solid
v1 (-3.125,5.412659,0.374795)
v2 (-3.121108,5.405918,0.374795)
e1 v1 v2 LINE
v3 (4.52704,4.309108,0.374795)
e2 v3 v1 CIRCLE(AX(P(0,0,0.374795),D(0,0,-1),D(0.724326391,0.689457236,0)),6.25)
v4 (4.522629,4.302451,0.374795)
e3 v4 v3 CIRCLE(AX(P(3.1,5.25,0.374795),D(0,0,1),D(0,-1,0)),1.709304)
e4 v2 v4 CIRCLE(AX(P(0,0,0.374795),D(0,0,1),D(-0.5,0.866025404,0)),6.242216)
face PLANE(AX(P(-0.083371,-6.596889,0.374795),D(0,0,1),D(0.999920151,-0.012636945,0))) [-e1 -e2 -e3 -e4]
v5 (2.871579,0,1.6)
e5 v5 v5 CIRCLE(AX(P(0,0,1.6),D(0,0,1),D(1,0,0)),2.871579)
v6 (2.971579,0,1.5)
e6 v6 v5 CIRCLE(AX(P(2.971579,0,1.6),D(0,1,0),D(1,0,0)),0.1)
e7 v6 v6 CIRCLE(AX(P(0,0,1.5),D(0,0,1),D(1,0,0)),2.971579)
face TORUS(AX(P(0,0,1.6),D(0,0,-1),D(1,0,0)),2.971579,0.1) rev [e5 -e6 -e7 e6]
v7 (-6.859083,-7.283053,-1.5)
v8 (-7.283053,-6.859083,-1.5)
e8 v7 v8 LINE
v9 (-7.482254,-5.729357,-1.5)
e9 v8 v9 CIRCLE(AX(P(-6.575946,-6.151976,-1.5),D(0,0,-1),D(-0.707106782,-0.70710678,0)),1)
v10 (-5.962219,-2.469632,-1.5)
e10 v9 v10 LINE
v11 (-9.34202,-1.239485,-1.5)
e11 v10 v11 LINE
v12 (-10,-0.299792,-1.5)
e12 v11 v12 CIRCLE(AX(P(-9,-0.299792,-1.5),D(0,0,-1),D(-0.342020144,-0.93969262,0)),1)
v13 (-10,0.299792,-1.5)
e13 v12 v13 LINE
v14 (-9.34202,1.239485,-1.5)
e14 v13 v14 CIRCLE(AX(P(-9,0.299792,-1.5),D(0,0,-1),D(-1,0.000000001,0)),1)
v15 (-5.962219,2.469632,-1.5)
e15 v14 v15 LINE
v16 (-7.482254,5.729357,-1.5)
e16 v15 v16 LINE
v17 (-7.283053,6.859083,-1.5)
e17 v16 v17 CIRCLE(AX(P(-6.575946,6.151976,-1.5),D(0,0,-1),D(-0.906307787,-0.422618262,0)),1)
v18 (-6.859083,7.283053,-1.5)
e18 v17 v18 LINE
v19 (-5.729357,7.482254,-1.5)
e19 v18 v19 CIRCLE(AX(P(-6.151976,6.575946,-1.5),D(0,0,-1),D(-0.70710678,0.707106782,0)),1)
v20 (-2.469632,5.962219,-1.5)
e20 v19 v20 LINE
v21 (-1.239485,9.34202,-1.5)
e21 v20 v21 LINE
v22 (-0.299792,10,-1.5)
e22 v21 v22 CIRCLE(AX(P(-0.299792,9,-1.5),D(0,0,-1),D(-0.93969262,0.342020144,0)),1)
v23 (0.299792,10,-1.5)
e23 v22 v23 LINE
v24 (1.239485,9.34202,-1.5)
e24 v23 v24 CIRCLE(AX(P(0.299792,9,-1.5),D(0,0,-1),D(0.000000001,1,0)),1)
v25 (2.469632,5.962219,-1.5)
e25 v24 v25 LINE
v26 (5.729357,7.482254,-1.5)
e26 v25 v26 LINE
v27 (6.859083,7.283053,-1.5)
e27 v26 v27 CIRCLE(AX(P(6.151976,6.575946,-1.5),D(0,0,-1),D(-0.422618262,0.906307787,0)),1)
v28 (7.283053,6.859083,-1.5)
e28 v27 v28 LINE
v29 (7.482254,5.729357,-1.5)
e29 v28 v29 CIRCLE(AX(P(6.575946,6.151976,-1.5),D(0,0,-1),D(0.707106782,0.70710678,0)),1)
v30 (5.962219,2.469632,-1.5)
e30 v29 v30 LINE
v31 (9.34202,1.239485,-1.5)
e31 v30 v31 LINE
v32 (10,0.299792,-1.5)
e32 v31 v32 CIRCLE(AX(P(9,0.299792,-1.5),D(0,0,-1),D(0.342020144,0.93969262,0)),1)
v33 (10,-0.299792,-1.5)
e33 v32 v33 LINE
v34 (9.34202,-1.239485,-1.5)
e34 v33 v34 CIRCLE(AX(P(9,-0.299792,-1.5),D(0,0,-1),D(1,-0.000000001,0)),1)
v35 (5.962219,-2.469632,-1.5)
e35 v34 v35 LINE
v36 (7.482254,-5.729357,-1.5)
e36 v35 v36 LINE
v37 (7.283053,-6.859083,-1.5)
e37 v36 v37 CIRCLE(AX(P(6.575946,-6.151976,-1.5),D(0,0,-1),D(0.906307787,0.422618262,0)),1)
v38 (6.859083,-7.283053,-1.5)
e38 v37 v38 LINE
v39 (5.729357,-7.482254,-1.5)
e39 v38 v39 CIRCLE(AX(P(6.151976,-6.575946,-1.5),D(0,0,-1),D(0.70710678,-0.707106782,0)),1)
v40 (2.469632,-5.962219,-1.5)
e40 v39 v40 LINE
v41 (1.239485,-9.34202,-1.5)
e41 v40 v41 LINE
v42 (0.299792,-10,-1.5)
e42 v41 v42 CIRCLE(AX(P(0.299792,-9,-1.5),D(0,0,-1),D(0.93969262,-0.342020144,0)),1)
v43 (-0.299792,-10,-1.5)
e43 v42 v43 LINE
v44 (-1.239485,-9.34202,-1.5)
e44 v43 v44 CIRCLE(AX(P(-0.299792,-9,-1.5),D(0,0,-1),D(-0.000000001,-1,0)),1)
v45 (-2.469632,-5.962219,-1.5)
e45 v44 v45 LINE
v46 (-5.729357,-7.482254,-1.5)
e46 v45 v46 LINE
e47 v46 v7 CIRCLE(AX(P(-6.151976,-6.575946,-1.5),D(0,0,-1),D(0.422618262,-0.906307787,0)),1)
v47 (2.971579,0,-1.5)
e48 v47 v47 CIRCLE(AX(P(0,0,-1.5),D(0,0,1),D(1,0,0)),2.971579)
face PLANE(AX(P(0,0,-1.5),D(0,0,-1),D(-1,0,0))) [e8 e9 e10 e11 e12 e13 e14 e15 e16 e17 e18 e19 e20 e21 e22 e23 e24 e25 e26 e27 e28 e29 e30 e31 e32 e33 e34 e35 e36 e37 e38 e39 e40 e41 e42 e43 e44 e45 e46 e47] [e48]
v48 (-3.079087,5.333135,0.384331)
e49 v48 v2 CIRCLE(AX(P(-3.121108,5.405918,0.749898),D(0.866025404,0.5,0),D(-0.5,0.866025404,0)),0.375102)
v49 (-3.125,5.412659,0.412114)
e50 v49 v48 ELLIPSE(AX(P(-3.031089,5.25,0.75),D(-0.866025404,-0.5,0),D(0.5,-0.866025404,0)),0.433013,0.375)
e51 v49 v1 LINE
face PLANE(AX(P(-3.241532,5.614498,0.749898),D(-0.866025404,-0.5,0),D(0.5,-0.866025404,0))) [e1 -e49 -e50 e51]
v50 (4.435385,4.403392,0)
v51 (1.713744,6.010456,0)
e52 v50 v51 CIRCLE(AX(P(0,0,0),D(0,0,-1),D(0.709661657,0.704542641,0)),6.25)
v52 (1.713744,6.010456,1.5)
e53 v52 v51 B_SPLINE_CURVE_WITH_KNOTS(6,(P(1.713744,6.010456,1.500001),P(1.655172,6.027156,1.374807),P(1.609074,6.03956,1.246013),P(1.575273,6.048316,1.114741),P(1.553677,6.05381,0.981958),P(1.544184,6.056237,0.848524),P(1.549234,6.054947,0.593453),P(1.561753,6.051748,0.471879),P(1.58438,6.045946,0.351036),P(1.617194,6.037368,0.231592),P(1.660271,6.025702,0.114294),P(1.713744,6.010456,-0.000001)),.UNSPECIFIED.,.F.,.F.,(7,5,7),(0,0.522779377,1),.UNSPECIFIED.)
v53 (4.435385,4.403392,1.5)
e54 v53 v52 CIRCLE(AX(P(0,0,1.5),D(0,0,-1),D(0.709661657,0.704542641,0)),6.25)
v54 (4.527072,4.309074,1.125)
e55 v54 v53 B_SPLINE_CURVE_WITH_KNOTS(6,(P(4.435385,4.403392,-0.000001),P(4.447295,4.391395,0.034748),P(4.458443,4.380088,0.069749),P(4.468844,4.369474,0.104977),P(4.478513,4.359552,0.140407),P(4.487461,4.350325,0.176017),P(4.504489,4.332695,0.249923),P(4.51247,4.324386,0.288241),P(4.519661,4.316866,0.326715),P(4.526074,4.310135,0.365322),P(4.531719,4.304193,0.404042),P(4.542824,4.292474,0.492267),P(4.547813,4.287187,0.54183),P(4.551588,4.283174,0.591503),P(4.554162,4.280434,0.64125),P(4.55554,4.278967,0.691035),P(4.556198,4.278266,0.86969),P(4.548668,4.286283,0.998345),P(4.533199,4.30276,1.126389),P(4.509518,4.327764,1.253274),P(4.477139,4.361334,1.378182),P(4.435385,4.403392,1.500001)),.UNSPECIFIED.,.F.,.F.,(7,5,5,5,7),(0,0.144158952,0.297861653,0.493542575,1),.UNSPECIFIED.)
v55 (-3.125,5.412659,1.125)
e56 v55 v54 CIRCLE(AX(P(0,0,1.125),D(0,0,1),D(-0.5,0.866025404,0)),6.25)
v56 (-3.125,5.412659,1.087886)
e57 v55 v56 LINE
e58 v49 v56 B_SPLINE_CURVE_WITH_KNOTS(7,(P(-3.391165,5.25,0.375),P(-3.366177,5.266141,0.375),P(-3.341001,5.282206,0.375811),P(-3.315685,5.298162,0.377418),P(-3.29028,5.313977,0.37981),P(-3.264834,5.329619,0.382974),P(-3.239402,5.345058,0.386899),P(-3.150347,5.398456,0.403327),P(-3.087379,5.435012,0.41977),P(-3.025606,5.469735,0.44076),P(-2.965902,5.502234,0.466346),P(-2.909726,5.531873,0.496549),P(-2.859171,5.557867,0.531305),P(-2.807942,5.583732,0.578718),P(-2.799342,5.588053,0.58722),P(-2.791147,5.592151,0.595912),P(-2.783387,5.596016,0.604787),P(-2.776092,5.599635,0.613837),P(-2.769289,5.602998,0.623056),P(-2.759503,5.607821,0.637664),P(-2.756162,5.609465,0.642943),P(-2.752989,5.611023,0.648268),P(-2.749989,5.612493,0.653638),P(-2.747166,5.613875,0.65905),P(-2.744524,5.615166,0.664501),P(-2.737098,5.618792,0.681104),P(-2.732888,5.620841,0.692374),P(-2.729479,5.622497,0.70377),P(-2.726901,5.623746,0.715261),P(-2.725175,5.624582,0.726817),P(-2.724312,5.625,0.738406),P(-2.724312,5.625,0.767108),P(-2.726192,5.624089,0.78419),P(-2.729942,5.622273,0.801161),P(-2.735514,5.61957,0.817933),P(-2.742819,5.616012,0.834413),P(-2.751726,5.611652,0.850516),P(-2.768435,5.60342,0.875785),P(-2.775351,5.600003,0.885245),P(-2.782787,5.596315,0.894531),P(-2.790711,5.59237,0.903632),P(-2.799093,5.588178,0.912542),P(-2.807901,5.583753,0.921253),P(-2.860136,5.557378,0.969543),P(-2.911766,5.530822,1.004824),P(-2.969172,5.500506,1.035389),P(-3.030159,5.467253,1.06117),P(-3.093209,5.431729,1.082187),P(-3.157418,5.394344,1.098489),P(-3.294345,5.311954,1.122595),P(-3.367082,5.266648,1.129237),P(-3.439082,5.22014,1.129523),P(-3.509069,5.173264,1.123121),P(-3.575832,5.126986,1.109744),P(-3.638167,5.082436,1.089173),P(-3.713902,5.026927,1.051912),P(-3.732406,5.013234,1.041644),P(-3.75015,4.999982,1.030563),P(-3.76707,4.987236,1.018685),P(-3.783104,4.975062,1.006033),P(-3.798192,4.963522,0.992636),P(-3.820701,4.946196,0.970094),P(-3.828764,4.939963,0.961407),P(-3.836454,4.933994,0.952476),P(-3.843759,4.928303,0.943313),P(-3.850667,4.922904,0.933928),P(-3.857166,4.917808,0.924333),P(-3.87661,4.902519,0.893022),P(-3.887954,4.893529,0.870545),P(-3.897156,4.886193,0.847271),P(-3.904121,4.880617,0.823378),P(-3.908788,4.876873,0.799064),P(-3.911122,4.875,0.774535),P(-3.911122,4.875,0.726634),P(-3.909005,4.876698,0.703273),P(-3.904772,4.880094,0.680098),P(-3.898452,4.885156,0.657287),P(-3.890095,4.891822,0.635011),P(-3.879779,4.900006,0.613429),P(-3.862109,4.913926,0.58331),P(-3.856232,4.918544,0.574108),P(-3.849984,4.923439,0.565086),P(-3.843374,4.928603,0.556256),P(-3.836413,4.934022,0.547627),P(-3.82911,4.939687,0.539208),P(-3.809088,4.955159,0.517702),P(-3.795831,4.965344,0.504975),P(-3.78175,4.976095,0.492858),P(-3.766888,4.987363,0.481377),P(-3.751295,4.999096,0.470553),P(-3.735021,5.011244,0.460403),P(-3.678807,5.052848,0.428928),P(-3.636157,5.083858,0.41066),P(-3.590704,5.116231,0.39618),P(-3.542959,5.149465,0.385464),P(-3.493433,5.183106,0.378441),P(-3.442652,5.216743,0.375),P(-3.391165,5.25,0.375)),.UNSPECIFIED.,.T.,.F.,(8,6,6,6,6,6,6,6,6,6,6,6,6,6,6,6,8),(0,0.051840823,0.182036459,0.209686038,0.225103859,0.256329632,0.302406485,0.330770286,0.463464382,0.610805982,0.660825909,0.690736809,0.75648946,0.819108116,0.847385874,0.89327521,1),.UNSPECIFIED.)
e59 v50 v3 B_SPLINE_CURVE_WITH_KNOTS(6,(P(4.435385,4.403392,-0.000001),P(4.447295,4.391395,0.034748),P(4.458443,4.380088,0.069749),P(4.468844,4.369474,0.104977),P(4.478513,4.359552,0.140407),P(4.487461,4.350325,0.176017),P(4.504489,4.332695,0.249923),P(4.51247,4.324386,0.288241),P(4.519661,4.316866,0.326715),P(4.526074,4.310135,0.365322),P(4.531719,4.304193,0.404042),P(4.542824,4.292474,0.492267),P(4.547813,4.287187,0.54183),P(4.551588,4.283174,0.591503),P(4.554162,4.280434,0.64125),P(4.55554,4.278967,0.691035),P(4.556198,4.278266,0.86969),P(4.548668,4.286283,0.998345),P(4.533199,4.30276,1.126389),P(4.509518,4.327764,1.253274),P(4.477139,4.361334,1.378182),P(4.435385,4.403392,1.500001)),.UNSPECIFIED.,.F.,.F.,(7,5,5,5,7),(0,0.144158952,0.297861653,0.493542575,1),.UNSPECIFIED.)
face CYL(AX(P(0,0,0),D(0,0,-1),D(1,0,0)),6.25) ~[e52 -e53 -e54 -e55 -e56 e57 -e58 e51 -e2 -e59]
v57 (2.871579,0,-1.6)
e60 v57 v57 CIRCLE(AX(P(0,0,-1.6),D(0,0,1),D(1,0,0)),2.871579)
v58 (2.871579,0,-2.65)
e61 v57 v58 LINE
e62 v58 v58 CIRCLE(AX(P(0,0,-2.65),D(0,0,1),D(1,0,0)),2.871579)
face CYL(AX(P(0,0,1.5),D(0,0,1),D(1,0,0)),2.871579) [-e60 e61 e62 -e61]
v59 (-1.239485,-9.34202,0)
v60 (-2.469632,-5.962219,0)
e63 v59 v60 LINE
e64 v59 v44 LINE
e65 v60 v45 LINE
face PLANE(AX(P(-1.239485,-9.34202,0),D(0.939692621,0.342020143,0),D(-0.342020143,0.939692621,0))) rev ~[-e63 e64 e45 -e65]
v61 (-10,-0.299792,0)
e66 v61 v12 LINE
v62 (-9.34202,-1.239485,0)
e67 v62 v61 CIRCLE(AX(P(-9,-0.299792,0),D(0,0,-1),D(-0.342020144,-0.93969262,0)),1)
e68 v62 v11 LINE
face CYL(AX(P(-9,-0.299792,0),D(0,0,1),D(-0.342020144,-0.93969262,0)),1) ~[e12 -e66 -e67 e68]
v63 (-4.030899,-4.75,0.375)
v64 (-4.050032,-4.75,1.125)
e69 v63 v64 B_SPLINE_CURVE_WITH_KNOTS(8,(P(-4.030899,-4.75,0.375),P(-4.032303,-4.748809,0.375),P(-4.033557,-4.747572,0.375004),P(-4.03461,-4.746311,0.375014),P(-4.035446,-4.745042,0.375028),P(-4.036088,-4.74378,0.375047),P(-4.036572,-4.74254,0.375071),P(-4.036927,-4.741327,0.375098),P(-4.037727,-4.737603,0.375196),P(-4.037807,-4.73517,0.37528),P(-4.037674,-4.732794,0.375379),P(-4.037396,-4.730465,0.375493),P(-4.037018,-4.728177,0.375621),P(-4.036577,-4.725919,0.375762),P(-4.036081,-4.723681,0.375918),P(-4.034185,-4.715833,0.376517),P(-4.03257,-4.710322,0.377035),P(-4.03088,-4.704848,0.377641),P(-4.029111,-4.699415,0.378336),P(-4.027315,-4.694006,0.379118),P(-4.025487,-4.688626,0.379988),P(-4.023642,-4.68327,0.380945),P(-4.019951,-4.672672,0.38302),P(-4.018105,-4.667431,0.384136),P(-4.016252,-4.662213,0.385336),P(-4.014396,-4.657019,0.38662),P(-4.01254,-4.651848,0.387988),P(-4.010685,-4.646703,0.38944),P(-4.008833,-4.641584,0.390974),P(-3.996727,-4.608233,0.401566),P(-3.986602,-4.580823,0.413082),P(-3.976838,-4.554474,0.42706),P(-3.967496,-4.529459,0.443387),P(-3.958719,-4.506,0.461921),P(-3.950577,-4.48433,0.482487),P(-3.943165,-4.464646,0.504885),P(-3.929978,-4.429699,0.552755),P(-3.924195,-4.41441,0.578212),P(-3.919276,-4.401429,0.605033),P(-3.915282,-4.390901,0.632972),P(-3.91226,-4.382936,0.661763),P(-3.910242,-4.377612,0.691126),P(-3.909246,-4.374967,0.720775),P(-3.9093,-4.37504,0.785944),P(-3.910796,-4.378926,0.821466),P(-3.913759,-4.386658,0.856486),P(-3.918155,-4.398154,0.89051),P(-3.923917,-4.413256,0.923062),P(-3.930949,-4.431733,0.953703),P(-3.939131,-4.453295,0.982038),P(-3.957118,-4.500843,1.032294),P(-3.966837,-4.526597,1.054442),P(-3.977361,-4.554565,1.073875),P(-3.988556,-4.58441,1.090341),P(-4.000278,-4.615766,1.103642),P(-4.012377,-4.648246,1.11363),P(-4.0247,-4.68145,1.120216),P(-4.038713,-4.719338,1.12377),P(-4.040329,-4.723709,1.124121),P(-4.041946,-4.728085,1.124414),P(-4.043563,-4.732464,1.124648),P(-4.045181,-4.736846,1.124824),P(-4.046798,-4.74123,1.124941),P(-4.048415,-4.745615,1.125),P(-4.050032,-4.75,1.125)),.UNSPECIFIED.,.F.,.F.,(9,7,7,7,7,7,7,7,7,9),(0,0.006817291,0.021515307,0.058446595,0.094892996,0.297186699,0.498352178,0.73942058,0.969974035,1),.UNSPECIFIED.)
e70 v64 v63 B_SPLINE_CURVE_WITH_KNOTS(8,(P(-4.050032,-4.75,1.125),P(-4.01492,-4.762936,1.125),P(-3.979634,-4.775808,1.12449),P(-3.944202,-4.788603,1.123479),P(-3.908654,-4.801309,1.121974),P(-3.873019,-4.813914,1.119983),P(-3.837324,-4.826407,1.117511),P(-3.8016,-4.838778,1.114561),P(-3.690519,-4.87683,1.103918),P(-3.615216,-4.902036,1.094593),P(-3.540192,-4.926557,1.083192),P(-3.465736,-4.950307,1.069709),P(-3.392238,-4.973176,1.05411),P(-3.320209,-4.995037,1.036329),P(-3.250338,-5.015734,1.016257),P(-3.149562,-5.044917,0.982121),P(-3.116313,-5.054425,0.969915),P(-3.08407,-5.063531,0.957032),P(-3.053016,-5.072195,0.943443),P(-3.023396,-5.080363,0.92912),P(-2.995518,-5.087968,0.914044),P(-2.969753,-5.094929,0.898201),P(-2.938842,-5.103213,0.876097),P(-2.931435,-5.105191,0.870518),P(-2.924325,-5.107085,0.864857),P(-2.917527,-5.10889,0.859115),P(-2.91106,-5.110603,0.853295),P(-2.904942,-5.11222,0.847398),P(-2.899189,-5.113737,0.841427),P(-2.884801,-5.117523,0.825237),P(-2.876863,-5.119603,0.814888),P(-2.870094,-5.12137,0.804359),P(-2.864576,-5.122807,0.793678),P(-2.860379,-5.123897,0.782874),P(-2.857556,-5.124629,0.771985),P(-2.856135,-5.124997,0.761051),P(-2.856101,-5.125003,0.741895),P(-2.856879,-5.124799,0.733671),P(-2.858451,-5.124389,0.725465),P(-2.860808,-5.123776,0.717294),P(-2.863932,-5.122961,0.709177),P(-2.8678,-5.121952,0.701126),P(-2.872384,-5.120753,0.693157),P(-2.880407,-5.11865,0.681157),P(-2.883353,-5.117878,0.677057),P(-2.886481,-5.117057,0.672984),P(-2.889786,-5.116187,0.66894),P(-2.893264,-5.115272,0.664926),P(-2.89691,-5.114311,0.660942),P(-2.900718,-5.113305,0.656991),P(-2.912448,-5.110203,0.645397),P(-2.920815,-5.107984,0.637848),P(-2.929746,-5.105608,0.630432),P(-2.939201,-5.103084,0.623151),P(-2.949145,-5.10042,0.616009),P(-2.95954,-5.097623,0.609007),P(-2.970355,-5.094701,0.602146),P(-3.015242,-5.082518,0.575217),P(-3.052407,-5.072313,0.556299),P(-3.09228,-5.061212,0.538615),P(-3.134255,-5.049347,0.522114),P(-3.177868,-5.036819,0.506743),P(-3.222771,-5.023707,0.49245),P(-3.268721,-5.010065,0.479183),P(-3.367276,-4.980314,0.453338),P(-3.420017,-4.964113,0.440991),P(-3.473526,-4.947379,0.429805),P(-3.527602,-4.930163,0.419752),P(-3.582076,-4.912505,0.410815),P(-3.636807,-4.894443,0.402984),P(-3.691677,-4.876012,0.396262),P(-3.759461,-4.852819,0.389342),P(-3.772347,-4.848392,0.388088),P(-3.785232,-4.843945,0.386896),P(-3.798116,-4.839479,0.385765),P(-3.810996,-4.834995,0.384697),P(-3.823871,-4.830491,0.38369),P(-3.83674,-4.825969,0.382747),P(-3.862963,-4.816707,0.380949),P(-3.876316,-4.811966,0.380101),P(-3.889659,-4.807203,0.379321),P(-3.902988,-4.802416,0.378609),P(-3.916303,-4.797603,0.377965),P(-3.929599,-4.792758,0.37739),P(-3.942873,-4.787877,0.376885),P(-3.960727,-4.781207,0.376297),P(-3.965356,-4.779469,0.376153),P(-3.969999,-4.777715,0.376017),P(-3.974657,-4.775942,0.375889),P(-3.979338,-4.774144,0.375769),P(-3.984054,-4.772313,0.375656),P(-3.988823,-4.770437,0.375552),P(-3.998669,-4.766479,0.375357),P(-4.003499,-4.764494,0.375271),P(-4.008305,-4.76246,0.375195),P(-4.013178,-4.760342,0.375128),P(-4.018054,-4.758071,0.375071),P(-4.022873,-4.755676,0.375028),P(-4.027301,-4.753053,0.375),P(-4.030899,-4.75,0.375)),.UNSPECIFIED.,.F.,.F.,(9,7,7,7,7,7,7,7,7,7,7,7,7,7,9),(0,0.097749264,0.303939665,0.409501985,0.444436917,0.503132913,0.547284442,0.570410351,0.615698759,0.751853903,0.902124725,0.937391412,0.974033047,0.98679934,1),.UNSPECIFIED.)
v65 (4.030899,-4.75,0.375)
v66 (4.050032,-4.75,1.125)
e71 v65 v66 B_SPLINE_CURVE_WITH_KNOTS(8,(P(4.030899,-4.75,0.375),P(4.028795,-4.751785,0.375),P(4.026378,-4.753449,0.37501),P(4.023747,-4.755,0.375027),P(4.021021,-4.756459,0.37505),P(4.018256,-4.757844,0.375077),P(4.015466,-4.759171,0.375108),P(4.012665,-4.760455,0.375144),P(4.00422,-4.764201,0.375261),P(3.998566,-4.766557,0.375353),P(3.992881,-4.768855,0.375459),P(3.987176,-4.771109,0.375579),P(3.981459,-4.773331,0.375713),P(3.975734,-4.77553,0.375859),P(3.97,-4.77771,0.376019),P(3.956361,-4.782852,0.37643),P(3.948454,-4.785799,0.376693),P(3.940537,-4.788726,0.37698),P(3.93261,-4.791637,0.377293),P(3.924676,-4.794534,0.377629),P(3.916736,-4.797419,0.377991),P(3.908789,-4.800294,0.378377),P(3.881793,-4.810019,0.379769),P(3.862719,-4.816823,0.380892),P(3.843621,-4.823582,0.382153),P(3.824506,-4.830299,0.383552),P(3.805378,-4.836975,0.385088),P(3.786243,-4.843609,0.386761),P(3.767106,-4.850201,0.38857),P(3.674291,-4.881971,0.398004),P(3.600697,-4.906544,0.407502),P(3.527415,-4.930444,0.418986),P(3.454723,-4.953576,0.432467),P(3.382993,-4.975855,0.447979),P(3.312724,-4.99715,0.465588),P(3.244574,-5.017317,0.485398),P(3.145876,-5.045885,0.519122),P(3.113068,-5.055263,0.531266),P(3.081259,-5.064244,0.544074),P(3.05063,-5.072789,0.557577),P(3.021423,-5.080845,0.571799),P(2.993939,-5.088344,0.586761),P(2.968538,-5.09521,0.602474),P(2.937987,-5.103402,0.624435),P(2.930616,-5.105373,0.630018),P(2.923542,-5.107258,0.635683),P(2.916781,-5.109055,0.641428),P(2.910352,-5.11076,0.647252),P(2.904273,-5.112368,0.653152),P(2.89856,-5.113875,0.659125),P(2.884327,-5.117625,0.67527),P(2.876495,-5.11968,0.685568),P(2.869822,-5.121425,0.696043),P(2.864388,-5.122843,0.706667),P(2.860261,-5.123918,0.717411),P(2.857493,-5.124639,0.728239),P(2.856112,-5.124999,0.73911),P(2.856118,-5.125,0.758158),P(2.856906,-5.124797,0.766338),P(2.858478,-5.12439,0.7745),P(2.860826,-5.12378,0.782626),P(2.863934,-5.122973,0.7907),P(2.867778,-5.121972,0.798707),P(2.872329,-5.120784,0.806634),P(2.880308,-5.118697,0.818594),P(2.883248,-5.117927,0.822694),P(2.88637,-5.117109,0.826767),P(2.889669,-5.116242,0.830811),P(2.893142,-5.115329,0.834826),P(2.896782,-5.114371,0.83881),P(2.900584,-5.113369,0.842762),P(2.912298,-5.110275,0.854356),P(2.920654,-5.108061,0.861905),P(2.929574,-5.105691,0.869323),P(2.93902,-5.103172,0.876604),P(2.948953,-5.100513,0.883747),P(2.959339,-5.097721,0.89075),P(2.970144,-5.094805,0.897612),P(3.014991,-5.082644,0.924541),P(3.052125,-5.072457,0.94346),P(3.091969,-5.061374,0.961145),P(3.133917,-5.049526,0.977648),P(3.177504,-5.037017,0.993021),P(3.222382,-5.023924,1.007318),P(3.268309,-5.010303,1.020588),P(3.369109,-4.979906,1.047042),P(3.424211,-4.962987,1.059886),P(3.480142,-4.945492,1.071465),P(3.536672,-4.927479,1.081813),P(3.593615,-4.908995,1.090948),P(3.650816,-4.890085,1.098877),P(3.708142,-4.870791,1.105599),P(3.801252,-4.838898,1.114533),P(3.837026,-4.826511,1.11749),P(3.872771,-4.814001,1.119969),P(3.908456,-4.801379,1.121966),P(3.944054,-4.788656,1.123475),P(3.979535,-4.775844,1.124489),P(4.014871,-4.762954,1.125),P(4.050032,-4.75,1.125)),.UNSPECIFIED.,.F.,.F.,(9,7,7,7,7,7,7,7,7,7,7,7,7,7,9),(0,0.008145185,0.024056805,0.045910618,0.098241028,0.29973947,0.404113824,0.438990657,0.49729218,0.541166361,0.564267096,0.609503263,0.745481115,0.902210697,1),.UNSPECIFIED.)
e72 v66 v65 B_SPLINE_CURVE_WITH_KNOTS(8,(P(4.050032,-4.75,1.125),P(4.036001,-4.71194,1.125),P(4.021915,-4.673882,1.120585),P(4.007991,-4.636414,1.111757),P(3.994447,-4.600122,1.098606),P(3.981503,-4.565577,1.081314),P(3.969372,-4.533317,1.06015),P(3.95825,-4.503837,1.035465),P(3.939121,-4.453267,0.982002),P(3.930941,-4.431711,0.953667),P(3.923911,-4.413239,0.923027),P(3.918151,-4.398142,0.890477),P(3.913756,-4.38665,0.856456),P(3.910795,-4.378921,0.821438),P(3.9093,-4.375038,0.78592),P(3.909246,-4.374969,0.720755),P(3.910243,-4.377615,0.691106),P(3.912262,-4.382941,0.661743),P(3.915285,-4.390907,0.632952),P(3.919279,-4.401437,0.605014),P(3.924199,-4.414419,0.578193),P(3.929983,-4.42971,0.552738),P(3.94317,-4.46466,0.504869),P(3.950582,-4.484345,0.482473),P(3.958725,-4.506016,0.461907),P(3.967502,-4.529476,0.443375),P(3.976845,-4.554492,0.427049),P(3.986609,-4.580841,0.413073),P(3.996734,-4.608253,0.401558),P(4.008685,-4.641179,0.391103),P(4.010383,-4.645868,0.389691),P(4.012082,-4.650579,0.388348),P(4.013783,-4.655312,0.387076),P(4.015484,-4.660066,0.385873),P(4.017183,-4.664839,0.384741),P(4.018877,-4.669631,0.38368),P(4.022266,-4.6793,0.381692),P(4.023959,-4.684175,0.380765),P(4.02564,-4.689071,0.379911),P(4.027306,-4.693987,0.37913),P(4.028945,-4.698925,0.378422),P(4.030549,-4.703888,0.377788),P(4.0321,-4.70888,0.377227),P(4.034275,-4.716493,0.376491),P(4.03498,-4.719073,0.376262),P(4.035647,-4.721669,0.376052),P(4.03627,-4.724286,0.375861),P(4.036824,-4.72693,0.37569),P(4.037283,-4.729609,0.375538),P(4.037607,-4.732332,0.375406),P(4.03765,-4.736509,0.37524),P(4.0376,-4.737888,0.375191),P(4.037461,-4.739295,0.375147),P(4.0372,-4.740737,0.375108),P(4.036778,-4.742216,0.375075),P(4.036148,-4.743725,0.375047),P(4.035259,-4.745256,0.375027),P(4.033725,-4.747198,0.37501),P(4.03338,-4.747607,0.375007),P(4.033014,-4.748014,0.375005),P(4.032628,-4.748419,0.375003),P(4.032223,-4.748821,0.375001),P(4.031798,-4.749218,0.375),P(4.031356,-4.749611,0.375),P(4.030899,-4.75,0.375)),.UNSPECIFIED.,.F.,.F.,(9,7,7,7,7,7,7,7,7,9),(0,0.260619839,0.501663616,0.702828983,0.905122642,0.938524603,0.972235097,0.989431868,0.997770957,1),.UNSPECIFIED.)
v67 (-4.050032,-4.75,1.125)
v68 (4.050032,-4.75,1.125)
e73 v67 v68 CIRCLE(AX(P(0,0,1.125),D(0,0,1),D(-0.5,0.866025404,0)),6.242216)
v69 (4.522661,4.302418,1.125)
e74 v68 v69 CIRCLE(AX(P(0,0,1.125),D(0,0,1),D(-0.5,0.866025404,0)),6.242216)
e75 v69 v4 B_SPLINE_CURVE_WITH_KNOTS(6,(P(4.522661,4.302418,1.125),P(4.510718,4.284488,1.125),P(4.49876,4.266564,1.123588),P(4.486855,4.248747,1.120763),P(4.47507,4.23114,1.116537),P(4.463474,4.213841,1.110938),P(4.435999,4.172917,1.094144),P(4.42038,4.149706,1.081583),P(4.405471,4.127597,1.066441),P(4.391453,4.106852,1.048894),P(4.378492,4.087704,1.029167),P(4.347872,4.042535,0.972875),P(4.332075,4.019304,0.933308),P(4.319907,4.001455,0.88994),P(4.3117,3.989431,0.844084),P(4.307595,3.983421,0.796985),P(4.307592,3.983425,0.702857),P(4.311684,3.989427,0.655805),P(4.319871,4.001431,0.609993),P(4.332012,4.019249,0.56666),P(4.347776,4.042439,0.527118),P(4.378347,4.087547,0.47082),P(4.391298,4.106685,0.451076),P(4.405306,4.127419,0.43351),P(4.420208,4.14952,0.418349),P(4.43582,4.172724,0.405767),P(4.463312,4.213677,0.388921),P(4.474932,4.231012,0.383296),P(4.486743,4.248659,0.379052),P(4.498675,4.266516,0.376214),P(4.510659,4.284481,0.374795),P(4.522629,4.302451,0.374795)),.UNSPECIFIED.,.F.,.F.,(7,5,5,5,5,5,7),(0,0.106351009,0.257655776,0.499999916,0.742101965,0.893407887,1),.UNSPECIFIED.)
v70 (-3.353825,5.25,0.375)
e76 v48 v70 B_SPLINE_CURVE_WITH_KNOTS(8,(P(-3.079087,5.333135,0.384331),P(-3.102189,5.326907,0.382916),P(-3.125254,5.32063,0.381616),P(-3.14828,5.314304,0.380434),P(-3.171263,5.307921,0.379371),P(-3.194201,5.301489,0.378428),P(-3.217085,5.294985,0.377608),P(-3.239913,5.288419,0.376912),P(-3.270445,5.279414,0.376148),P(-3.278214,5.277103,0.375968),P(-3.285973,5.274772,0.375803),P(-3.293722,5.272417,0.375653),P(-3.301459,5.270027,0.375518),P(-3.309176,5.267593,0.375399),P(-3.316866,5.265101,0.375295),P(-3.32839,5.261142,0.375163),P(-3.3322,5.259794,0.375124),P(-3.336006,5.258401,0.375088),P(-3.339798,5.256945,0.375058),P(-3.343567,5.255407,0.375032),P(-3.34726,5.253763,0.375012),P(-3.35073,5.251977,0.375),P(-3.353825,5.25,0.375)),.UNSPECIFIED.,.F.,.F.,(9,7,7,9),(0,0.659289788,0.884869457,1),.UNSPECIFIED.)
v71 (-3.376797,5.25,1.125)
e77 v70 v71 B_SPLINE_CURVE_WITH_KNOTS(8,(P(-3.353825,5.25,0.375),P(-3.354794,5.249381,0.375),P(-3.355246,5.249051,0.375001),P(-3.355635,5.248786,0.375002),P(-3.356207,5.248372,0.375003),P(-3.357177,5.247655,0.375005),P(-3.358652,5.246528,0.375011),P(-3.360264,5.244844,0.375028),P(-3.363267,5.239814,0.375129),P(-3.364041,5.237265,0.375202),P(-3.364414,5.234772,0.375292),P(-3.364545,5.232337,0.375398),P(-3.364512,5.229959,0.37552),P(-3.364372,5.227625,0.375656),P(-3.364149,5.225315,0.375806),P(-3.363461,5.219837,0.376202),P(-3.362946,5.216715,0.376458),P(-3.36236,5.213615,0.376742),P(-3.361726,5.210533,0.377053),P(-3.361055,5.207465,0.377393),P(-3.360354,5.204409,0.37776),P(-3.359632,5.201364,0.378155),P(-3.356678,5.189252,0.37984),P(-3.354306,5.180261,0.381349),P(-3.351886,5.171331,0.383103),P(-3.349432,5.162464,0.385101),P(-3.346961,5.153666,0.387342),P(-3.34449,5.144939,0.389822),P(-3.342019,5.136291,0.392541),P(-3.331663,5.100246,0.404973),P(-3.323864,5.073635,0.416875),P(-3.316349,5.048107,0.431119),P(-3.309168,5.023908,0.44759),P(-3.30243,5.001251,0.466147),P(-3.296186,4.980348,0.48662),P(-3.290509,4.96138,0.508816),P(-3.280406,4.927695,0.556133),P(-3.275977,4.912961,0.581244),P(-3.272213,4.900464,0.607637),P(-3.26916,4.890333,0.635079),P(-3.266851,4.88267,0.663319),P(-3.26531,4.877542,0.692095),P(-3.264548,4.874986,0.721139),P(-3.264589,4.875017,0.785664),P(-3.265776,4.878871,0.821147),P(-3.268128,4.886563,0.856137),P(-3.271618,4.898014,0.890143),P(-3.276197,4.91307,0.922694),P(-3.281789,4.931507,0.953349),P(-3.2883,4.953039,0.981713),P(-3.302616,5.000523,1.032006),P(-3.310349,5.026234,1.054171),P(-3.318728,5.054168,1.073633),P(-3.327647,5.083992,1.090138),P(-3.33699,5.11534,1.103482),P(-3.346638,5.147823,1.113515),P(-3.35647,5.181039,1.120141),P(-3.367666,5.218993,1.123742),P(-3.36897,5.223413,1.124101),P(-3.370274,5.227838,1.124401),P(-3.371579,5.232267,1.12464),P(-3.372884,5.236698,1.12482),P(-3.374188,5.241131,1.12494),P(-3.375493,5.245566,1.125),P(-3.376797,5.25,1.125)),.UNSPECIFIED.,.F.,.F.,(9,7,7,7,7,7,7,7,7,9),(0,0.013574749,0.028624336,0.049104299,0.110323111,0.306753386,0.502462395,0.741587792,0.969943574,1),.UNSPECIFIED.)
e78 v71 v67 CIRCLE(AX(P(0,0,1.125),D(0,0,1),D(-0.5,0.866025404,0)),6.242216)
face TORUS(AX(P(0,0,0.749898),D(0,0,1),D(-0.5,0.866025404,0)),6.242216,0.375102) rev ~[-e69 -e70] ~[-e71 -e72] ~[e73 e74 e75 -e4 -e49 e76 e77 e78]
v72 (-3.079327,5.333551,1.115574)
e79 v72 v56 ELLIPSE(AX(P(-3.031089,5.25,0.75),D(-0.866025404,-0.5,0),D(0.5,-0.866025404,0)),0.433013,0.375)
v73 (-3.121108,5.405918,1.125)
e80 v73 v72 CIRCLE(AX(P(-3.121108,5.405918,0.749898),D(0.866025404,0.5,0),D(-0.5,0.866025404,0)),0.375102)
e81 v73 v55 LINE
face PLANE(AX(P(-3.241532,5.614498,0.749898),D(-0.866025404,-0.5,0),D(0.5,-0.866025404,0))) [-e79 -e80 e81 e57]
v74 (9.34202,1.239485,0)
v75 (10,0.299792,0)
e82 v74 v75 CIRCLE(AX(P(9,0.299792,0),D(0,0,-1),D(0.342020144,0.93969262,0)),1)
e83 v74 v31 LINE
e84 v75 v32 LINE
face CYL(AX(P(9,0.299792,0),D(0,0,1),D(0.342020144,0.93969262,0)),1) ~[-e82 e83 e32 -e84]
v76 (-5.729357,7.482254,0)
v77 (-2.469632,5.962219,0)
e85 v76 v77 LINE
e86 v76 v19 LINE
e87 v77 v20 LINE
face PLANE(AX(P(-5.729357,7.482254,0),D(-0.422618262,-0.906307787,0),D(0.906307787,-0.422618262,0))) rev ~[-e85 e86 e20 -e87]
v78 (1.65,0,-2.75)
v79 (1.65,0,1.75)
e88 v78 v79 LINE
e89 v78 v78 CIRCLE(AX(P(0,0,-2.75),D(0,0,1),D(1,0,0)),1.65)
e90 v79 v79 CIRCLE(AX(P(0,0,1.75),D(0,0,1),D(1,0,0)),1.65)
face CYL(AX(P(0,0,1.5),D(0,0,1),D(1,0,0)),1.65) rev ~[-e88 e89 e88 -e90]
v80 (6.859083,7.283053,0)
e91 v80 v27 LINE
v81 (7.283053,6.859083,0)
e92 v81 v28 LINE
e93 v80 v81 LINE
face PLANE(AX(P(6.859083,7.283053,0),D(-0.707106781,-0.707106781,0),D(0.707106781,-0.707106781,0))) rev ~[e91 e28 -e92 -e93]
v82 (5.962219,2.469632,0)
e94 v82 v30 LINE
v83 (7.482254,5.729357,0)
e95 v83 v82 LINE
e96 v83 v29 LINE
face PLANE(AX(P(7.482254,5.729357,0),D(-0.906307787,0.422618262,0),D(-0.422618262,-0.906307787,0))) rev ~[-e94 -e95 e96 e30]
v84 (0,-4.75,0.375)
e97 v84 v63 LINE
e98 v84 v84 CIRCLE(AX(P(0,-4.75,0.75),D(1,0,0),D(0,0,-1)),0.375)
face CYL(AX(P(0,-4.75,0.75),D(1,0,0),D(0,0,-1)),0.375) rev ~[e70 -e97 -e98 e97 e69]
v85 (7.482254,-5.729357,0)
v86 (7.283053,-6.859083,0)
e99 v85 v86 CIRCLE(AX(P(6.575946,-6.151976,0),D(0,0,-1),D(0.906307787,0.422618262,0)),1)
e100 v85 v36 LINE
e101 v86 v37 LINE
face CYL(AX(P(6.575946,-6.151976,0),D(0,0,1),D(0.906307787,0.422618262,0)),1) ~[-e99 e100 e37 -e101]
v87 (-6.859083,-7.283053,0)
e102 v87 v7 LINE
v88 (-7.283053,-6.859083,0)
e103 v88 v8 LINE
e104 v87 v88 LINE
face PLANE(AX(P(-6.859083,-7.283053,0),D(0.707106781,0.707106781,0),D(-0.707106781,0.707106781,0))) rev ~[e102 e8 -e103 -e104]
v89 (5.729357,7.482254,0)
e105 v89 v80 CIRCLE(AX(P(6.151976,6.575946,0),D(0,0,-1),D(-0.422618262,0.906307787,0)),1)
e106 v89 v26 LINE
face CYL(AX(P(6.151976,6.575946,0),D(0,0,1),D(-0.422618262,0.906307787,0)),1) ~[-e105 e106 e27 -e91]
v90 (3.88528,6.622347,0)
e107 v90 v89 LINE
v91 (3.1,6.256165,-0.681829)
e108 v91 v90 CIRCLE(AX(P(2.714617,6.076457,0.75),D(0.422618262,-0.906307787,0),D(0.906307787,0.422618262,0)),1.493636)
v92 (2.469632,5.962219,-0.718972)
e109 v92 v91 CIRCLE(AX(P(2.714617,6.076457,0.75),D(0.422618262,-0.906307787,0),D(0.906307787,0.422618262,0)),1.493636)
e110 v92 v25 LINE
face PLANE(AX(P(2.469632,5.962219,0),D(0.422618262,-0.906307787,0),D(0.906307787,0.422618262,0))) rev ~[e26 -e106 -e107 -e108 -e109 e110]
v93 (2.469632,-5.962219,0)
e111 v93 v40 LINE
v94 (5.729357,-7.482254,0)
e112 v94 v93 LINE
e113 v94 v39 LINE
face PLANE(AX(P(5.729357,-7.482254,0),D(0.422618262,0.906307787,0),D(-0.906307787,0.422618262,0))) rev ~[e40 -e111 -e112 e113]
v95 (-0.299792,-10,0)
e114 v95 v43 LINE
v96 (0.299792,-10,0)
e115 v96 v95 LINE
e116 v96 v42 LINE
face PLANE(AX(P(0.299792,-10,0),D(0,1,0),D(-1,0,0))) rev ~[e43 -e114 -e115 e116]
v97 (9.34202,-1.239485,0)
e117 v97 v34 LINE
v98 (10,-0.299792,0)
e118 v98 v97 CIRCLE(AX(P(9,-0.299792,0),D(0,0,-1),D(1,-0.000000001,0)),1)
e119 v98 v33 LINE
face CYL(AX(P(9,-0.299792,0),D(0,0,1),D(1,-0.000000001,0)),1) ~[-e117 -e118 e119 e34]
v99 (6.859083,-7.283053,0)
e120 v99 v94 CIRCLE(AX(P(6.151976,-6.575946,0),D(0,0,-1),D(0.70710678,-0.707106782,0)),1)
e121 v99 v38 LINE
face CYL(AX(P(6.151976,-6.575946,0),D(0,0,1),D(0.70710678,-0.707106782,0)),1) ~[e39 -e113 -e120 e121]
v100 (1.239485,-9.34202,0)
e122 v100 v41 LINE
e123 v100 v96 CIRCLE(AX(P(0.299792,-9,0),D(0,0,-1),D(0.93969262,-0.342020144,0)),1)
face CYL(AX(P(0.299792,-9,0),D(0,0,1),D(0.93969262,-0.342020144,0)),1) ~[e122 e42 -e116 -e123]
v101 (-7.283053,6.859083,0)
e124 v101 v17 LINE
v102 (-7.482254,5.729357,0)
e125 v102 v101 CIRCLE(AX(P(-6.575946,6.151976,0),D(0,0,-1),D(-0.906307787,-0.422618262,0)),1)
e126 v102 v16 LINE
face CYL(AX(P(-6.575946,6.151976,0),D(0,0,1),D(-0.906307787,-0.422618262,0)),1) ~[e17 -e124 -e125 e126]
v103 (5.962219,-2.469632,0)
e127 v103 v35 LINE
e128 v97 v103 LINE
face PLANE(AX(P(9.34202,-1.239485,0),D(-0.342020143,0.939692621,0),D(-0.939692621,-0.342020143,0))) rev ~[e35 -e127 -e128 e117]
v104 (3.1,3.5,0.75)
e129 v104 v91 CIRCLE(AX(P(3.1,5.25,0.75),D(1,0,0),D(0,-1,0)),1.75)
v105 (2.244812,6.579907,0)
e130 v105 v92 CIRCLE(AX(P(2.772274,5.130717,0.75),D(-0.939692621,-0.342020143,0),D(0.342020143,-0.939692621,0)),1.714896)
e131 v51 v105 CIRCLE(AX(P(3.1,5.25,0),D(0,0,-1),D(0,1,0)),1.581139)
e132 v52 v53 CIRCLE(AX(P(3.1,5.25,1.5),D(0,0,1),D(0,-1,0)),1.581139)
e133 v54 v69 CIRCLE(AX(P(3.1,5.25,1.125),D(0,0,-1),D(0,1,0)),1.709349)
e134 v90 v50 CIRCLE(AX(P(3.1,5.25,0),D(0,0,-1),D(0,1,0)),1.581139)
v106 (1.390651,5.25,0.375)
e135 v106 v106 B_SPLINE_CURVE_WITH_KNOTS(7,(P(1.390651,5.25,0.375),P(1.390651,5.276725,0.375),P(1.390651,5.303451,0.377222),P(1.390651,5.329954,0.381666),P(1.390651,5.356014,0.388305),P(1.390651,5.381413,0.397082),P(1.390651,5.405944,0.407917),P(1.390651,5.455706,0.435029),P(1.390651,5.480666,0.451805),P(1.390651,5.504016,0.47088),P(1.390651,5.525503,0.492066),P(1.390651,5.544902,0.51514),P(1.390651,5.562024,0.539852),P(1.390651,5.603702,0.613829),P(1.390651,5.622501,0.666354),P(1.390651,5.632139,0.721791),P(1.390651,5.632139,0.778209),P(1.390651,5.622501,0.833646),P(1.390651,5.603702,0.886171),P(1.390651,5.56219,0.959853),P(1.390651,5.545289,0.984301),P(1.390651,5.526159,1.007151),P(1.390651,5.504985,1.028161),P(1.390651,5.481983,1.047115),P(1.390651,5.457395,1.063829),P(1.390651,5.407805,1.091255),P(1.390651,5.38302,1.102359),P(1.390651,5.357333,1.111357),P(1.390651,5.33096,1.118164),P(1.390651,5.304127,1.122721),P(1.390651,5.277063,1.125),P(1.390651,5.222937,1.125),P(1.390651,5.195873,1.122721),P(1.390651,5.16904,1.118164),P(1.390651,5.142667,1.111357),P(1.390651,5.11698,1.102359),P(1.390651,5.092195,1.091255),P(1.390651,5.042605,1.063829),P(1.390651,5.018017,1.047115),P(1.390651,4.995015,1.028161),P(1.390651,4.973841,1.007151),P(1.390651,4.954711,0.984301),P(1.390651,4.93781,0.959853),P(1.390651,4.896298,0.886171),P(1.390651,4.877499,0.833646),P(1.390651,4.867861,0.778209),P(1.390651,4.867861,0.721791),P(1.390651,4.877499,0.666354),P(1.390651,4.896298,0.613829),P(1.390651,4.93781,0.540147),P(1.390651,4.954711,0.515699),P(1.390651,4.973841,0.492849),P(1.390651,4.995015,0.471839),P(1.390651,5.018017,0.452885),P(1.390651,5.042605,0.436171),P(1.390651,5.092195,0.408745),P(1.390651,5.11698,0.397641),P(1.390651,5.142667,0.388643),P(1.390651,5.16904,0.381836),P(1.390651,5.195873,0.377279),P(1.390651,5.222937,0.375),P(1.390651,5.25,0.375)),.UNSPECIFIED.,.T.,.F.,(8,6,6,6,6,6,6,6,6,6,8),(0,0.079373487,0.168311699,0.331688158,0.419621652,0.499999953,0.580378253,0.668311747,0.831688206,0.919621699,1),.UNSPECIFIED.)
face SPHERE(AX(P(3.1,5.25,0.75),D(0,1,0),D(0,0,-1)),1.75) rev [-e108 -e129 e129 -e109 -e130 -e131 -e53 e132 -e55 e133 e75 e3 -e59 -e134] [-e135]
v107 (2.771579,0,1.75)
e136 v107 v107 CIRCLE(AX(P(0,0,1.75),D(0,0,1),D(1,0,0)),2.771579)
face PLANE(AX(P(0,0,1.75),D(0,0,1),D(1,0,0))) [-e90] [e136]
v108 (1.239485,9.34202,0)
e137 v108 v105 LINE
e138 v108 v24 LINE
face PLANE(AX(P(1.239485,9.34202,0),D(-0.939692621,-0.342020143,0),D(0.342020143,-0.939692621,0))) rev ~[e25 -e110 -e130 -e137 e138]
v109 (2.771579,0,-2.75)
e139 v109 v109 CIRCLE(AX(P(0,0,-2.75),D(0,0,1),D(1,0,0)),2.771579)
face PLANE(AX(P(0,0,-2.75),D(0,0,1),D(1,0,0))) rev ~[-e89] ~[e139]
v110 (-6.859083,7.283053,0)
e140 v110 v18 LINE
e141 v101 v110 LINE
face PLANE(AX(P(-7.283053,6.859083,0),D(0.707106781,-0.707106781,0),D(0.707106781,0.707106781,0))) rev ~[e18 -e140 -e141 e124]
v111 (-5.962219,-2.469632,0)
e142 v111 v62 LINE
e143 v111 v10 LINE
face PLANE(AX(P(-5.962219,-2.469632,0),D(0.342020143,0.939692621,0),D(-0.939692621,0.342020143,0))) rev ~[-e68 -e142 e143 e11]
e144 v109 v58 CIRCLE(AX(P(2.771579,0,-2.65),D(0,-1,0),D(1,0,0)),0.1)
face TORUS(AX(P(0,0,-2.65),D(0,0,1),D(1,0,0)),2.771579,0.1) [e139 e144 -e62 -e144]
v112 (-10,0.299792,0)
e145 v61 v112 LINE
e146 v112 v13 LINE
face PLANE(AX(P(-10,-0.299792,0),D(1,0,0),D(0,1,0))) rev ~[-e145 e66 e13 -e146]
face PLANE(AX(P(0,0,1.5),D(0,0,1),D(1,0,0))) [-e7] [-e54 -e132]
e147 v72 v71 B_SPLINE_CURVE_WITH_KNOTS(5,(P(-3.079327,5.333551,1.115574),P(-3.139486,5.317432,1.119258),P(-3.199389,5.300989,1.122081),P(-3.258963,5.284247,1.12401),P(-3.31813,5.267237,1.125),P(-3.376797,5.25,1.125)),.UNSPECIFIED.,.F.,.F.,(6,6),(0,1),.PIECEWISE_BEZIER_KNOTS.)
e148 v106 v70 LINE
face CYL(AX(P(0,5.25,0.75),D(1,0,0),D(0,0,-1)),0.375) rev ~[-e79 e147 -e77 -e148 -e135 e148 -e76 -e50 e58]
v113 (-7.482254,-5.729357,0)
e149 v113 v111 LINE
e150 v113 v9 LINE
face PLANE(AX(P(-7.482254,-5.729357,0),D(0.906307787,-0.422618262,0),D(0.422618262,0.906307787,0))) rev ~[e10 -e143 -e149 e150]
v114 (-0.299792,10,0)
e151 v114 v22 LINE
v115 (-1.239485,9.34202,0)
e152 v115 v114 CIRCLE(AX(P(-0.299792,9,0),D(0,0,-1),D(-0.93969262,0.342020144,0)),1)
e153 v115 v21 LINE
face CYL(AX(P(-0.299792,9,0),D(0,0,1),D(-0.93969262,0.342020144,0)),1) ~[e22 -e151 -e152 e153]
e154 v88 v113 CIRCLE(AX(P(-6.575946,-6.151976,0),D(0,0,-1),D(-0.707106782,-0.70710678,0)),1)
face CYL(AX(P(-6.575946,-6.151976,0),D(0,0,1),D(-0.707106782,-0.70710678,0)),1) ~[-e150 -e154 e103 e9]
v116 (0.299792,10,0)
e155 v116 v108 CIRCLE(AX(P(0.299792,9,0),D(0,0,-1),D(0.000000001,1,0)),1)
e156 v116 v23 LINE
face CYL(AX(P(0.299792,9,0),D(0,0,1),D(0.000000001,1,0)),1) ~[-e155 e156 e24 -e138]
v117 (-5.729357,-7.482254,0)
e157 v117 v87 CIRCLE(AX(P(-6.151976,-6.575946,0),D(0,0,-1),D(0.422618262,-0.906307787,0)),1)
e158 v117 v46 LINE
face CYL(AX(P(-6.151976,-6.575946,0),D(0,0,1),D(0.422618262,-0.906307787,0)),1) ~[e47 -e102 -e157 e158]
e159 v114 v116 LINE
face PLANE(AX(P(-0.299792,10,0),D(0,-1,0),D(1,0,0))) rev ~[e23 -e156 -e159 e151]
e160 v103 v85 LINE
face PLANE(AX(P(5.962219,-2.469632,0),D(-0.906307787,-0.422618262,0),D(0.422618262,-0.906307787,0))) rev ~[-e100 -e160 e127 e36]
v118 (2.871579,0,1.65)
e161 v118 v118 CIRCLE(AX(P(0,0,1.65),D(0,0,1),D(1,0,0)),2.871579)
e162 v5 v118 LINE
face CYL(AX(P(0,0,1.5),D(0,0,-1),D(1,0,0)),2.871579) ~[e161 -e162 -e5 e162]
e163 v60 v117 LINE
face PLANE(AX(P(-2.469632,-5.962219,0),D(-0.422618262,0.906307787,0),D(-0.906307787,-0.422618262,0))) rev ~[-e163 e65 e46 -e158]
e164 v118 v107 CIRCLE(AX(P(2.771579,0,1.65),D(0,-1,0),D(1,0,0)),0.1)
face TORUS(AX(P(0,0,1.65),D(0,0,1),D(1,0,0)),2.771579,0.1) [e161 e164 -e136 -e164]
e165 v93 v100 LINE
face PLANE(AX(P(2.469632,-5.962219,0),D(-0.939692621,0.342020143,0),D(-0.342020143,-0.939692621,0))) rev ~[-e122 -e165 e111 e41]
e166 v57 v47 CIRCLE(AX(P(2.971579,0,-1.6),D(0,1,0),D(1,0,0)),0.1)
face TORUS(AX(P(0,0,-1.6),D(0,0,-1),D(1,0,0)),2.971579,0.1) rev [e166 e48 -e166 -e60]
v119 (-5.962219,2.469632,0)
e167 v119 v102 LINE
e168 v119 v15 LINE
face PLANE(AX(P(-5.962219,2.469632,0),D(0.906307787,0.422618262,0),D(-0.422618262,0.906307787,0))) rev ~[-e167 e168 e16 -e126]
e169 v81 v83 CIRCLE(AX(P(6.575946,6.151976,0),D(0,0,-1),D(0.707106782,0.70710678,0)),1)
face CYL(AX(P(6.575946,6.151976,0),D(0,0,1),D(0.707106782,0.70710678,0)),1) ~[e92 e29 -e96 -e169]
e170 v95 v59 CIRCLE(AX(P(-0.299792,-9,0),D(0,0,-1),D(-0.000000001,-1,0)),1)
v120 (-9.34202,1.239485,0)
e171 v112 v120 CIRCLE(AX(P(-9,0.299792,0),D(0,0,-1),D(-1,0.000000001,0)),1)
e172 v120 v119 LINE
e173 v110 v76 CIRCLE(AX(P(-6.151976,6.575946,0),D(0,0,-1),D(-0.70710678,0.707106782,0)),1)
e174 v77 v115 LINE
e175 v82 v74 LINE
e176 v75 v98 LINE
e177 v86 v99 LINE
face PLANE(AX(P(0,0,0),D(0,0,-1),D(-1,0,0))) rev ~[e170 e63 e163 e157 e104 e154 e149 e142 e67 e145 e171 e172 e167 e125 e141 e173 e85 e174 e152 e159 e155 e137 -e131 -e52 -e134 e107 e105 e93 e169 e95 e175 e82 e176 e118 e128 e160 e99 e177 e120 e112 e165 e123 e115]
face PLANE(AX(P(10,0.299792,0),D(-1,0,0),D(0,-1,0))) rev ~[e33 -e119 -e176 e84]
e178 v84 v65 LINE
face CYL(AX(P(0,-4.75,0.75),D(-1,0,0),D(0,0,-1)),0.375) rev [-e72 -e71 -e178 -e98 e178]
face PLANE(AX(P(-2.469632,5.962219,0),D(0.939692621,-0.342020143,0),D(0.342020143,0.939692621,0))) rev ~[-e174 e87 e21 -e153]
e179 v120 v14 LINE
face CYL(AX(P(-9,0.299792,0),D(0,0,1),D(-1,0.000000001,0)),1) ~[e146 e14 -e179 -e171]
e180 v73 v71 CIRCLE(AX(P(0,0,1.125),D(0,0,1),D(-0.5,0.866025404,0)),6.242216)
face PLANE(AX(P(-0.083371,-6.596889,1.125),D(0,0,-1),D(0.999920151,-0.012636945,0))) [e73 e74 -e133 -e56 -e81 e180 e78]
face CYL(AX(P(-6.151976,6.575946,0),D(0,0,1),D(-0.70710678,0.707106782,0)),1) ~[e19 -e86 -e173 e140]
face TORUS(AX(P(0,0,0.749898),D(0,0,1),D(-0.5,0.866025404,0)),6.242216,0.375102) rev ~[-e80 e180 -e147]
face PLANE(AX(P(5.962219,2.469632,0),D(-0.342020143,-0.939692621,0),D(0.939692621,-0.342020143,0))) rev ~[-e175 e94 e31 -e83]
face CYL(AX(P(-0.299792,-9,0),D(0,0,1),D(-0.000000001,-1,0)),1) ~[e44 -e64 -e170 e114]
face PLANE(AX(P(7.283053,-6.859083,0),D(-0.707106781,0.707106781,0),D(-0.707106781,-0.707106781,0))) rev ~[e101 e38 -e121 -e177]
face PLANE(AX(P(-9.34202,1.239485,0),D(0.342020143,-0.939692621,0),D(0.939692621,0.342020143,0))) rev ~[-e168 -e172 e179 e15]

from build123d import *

# Parameters (mm, degrees)
SKETCH1_R                          = 6.25
BODY_DEPTH                         = 1.5
SKETCH2_R                          = 0.375
HOLE_TO_TRAP_CABLE_KNOT_DEPTH      = 10
HOLE_TO_TRAP_CABLE_KNOT_DEPTH_BACK = 7.25
THUMB_GRIP_DEPTH                   = 1.5
SKETCH13_R                         = 1.65
HOLE_FOR_SCREW_DEPTH               = 4
SKETCH21_R                         = 2.871579249
SKETCH21_R_2                       = 1.65
LIP_TO_CONTACT_HANDLE_DEPTH        = 0.25
LIP_TO_CONTACT_HANDLE_DEPTH_BACK   = 4.25
FILLET1_R                          = 0.1


with BuildPart() as part:
    # Sketch1 → body (new body)
    with BuildSketch(Plane.XY):
        Circle(SKETCH1_R)
    extrude(amount=BODY_DEPTH)

    # Sketch2 → Hole to trap cable knot (cut, two sides)
    with BuildSketch(Plane(origin=(0, 0, 0), x_dir=(0, 0, -1), z_dir=(1, 0, 0))) as hole_to_trap_cable_knot_sk:
        with Locations((-0.75, 5.25)):
            Circle(SKETCH2_R)
        with Locations((-0.75, -4.75)):
            Circle(SKETCH2_R)
    extrude(amount=HOLE_TO_TRAP_CABLE_KNOT_DEPTH, mode=Mode.SUBTRACT)
    extrude(hole_to_trap_cable_knot_sk.sketch, amount=-HOLE_TO_TRAP_CABLE_KNOT_DEPTH_BACK, mode=Mode.SUBTRACT)

    # track for cable: sweep along a path in Sketch6
    with BuildLine(Plane.XY.offset(1.875)) as track_for_cable_path:
        ThreePointArc((-3.125, 5.412658774), (-0.078980905, -6.249500941), (3.260789939, 5.331955455))
    # Sketch10 → track for cable (sweep, cut)
    with BuildSketch(Plane(origin=(-5.412658774, 9.375, 0), x_dir=(-0.5, 0.866025404, 0), z_dir=(-0.866025404, -0.5, 0))):
        with BuildLine():
            Line((-4.583101682, -1.125), (-3.872701536, -1.125))
            Line((-3.872701536, -1.125), (-3.872701536, -0.374795087))
            Line((-3.872701536, -0.374795087), (-4.583101682, -0.374795087))
            ThreePointArc((-4.583101682, -0.374795087), (-4.958204138, -0.749897543), (-4.583101682, -1.125))
        make_face()
    sweep(path=track_for_cable_path.line, mode=Mode.SUBTRACT)

    # Sketch14 → thumb grip (add)
    with BuildSketch(Plane(origin=(0, 0, 0), x_dir=(-1, 0, 0), z_dir=(0, 0, -1))):
        with BuildLine():
            Line((5.729357486, 7.4822541), (2.469632038, 5.96221916))
            Line((2.469632038, 5.96221916), (1.239485083, 9.342020143))
            ThreePointArc((1.239485083, 9.342020143), (0.873368898, 9.819152044), (0.299792462, 10))
            Line((0.299792462, 10), (-0.299792462, 10))
            ThreePointArc((-0.299792462, 10), (-0.873368898, 9.819152044), (-1.239485083, 9.342020143))
            Line((-1.239485083, 9.342020143), (-2.469632038, 5.96221916))
            Line((-2.469632038, 5.96221916), (-5.729357486, 7.4822541))
            ThreePointArc((-5.729357486, 7.4822541), (-6.325623926, 7.560754066), (-6.859082529, 7.283053095))
            Line((-6.859082529, 7.283053095), (-7.283053095, 6.859082529))
            ThreePointArc((-7.283053095, 6.859082529), (-7.560754066, 6.325623926), (-7.4822541, 5.729357486))
            Line((-7.4822541, 5.729357486), (-5.96221916, 2.469632038))
            Line((-5.96221916, 2.469632038), (-9.342020143, 1.239485083))
            ThreePointArc((-9.342020143, 1.239485083), (-9.819152044, 0.873368898), (-10, 0.299792462))
            Line((-10, 0.299792462), (-10, -0.299792462))
            ThreePointArc((-10, -0.299792462), (-9.819152044, -0.873368898), (-9.342020143, -1.239485083))
            Line((-9.342020143, -1.239485083), (-5.96221916, -2.469632038))
            Line((-5.96221916, -2.469632038), (-7.4822541, -5.729357486))
            ThreePointArc((-7.4822541, -5.729357486), (-7.560754066, -6.325623926), (-7.283053095, -6.859082529))
            Line((-7.283053095, -6.859082529), (-6.859082529, -7.283053095))
            ThreePointArc((-6.859082529, -7.283053095), (-6.325623926, -7.560754066), (-5.729357486, -7.4822541))
            Line((-5.729357486, -7.4822541), (-2.469632038, -5.96221916))
            Line((-2.469632038, -5.96221916), (-1.239485083, -9.342020143))
            ThreePointArc((-1.239485083, -9.342020143), (-0.873368898, -9.819152044), (-0.299792462, -10))
            Line((-0.299792462, -10), (0.299792462, -10))
            ThreePointArc((0.299792462, -10), (0.873368898, -9.819152044), (1.239485083, -9.342020143))
            Line((1.239485083, -9.342020143), (2.469632038, -5.96221916))
            Line((2.469632038, -5.96221916), (5.729357486, -7.4822541))
            ThreePointArc((5.729357486, -7.4822541), (6.325623926, -7.560754066), (6.859082529, -7.283053095))
            Line((6.859082529, -7.283053095), (7.283053095, -6.859082529))
            ThreePointArc((7.283053095, -6.859082529), (7.560754066, -6.325623926), (7.4822541, -5.729357486))
            Line((7.4822541, -5.729357486), (5.96221916, -2.469632038))
            Line((5.96221916, -2.469632038), (9.342020143, -1.239485083))
            ThreePointArc((9.342020143, -1.239485083), (9.819152044, -0.873368898), (10, -0.299792462))
            Line((10, -0.299792462), (10, 0.299792462))
            ThreePointArc((10, 0.299792462), (9.819152044, 0.873368898), (9.342020143, 1.239485083))
            Line((9.342020143, 1.239485083), (5.96221916, 2.469632038))
            Line((5.96221916, 2.469632038), (7.4822541, 5.729357486))
            ThreePointArc((7.4822541, 5.729357486), (7.560754066, 6.325623926), (7.283053095, 6.859082529))
            Line((7.283053095, 6.859082529), (6.859082529, 7.283053095))
            ThreePointArc((6.859082529, 7.283053095), (6.325623926, 7.560754066), (5.729357486, 7.4822541))
        make_face()
    extrude(amount=THUMB_GRIP_DEPTH)

    # Sketch13 → hole for screw (cut, through all)
    with BuildSketch(Plane.XY.offset(1.5)):
        Circle(SKETCH13_R)
    extrude(amount=-HOLE_FOR_SCREW_DEPTH, mode=Mode.SUBTRACT)

    # Sketch20 → trap for ball (revolve, cut)
    with BuildSketch(Plane(origin=(3.1, 0, 0), x_dir=(0, 0, -1), z_dir=(1, 0, 0))):
        with BuildLine():
            Line((-0.75, 7), (-0.75, 3.5))
            ThreePointArc((-0.75, 3.5), (1, 5.25), (-0.75, 7))
        make_face()
    revolve(axis=Axis((3.1, 7.793428849, 0.75), (0, -1, 0)), mode=Mode.SUBTRACT)

    # Sketch21 → lip to contact handle (add, two sides)
    with BuildSketch(Plane.XY.offset(1.5)) as lip_to_contact_handle_sk:
        Circle(SKETCH21_R)
        Circle(SKETCH21_R_2, mode=Mode.SUBTRACT)
    extrude(amount=LIP_TO_CONTACT_HANDLE_DEPTH)
    extrude(lip_to_contact_handle_sk.sketch, amount=-LIP_TO_CONTACT_HANDLE_DEPTH_BACK)

    # Fillet1
    fillet1_edges = [part.edges().sort_by_distance(p)[0] for p in [
        (-2.871579249, 0, -1.5),
        (-2.871579249, 0, 1.5),
        (-2.871579249, 0, -2.75),
        (-2.871579249, 0, 1.75),
    ]]
    fillet(fillet1_edges, radius=FILLET1_R)


solid = part.part
